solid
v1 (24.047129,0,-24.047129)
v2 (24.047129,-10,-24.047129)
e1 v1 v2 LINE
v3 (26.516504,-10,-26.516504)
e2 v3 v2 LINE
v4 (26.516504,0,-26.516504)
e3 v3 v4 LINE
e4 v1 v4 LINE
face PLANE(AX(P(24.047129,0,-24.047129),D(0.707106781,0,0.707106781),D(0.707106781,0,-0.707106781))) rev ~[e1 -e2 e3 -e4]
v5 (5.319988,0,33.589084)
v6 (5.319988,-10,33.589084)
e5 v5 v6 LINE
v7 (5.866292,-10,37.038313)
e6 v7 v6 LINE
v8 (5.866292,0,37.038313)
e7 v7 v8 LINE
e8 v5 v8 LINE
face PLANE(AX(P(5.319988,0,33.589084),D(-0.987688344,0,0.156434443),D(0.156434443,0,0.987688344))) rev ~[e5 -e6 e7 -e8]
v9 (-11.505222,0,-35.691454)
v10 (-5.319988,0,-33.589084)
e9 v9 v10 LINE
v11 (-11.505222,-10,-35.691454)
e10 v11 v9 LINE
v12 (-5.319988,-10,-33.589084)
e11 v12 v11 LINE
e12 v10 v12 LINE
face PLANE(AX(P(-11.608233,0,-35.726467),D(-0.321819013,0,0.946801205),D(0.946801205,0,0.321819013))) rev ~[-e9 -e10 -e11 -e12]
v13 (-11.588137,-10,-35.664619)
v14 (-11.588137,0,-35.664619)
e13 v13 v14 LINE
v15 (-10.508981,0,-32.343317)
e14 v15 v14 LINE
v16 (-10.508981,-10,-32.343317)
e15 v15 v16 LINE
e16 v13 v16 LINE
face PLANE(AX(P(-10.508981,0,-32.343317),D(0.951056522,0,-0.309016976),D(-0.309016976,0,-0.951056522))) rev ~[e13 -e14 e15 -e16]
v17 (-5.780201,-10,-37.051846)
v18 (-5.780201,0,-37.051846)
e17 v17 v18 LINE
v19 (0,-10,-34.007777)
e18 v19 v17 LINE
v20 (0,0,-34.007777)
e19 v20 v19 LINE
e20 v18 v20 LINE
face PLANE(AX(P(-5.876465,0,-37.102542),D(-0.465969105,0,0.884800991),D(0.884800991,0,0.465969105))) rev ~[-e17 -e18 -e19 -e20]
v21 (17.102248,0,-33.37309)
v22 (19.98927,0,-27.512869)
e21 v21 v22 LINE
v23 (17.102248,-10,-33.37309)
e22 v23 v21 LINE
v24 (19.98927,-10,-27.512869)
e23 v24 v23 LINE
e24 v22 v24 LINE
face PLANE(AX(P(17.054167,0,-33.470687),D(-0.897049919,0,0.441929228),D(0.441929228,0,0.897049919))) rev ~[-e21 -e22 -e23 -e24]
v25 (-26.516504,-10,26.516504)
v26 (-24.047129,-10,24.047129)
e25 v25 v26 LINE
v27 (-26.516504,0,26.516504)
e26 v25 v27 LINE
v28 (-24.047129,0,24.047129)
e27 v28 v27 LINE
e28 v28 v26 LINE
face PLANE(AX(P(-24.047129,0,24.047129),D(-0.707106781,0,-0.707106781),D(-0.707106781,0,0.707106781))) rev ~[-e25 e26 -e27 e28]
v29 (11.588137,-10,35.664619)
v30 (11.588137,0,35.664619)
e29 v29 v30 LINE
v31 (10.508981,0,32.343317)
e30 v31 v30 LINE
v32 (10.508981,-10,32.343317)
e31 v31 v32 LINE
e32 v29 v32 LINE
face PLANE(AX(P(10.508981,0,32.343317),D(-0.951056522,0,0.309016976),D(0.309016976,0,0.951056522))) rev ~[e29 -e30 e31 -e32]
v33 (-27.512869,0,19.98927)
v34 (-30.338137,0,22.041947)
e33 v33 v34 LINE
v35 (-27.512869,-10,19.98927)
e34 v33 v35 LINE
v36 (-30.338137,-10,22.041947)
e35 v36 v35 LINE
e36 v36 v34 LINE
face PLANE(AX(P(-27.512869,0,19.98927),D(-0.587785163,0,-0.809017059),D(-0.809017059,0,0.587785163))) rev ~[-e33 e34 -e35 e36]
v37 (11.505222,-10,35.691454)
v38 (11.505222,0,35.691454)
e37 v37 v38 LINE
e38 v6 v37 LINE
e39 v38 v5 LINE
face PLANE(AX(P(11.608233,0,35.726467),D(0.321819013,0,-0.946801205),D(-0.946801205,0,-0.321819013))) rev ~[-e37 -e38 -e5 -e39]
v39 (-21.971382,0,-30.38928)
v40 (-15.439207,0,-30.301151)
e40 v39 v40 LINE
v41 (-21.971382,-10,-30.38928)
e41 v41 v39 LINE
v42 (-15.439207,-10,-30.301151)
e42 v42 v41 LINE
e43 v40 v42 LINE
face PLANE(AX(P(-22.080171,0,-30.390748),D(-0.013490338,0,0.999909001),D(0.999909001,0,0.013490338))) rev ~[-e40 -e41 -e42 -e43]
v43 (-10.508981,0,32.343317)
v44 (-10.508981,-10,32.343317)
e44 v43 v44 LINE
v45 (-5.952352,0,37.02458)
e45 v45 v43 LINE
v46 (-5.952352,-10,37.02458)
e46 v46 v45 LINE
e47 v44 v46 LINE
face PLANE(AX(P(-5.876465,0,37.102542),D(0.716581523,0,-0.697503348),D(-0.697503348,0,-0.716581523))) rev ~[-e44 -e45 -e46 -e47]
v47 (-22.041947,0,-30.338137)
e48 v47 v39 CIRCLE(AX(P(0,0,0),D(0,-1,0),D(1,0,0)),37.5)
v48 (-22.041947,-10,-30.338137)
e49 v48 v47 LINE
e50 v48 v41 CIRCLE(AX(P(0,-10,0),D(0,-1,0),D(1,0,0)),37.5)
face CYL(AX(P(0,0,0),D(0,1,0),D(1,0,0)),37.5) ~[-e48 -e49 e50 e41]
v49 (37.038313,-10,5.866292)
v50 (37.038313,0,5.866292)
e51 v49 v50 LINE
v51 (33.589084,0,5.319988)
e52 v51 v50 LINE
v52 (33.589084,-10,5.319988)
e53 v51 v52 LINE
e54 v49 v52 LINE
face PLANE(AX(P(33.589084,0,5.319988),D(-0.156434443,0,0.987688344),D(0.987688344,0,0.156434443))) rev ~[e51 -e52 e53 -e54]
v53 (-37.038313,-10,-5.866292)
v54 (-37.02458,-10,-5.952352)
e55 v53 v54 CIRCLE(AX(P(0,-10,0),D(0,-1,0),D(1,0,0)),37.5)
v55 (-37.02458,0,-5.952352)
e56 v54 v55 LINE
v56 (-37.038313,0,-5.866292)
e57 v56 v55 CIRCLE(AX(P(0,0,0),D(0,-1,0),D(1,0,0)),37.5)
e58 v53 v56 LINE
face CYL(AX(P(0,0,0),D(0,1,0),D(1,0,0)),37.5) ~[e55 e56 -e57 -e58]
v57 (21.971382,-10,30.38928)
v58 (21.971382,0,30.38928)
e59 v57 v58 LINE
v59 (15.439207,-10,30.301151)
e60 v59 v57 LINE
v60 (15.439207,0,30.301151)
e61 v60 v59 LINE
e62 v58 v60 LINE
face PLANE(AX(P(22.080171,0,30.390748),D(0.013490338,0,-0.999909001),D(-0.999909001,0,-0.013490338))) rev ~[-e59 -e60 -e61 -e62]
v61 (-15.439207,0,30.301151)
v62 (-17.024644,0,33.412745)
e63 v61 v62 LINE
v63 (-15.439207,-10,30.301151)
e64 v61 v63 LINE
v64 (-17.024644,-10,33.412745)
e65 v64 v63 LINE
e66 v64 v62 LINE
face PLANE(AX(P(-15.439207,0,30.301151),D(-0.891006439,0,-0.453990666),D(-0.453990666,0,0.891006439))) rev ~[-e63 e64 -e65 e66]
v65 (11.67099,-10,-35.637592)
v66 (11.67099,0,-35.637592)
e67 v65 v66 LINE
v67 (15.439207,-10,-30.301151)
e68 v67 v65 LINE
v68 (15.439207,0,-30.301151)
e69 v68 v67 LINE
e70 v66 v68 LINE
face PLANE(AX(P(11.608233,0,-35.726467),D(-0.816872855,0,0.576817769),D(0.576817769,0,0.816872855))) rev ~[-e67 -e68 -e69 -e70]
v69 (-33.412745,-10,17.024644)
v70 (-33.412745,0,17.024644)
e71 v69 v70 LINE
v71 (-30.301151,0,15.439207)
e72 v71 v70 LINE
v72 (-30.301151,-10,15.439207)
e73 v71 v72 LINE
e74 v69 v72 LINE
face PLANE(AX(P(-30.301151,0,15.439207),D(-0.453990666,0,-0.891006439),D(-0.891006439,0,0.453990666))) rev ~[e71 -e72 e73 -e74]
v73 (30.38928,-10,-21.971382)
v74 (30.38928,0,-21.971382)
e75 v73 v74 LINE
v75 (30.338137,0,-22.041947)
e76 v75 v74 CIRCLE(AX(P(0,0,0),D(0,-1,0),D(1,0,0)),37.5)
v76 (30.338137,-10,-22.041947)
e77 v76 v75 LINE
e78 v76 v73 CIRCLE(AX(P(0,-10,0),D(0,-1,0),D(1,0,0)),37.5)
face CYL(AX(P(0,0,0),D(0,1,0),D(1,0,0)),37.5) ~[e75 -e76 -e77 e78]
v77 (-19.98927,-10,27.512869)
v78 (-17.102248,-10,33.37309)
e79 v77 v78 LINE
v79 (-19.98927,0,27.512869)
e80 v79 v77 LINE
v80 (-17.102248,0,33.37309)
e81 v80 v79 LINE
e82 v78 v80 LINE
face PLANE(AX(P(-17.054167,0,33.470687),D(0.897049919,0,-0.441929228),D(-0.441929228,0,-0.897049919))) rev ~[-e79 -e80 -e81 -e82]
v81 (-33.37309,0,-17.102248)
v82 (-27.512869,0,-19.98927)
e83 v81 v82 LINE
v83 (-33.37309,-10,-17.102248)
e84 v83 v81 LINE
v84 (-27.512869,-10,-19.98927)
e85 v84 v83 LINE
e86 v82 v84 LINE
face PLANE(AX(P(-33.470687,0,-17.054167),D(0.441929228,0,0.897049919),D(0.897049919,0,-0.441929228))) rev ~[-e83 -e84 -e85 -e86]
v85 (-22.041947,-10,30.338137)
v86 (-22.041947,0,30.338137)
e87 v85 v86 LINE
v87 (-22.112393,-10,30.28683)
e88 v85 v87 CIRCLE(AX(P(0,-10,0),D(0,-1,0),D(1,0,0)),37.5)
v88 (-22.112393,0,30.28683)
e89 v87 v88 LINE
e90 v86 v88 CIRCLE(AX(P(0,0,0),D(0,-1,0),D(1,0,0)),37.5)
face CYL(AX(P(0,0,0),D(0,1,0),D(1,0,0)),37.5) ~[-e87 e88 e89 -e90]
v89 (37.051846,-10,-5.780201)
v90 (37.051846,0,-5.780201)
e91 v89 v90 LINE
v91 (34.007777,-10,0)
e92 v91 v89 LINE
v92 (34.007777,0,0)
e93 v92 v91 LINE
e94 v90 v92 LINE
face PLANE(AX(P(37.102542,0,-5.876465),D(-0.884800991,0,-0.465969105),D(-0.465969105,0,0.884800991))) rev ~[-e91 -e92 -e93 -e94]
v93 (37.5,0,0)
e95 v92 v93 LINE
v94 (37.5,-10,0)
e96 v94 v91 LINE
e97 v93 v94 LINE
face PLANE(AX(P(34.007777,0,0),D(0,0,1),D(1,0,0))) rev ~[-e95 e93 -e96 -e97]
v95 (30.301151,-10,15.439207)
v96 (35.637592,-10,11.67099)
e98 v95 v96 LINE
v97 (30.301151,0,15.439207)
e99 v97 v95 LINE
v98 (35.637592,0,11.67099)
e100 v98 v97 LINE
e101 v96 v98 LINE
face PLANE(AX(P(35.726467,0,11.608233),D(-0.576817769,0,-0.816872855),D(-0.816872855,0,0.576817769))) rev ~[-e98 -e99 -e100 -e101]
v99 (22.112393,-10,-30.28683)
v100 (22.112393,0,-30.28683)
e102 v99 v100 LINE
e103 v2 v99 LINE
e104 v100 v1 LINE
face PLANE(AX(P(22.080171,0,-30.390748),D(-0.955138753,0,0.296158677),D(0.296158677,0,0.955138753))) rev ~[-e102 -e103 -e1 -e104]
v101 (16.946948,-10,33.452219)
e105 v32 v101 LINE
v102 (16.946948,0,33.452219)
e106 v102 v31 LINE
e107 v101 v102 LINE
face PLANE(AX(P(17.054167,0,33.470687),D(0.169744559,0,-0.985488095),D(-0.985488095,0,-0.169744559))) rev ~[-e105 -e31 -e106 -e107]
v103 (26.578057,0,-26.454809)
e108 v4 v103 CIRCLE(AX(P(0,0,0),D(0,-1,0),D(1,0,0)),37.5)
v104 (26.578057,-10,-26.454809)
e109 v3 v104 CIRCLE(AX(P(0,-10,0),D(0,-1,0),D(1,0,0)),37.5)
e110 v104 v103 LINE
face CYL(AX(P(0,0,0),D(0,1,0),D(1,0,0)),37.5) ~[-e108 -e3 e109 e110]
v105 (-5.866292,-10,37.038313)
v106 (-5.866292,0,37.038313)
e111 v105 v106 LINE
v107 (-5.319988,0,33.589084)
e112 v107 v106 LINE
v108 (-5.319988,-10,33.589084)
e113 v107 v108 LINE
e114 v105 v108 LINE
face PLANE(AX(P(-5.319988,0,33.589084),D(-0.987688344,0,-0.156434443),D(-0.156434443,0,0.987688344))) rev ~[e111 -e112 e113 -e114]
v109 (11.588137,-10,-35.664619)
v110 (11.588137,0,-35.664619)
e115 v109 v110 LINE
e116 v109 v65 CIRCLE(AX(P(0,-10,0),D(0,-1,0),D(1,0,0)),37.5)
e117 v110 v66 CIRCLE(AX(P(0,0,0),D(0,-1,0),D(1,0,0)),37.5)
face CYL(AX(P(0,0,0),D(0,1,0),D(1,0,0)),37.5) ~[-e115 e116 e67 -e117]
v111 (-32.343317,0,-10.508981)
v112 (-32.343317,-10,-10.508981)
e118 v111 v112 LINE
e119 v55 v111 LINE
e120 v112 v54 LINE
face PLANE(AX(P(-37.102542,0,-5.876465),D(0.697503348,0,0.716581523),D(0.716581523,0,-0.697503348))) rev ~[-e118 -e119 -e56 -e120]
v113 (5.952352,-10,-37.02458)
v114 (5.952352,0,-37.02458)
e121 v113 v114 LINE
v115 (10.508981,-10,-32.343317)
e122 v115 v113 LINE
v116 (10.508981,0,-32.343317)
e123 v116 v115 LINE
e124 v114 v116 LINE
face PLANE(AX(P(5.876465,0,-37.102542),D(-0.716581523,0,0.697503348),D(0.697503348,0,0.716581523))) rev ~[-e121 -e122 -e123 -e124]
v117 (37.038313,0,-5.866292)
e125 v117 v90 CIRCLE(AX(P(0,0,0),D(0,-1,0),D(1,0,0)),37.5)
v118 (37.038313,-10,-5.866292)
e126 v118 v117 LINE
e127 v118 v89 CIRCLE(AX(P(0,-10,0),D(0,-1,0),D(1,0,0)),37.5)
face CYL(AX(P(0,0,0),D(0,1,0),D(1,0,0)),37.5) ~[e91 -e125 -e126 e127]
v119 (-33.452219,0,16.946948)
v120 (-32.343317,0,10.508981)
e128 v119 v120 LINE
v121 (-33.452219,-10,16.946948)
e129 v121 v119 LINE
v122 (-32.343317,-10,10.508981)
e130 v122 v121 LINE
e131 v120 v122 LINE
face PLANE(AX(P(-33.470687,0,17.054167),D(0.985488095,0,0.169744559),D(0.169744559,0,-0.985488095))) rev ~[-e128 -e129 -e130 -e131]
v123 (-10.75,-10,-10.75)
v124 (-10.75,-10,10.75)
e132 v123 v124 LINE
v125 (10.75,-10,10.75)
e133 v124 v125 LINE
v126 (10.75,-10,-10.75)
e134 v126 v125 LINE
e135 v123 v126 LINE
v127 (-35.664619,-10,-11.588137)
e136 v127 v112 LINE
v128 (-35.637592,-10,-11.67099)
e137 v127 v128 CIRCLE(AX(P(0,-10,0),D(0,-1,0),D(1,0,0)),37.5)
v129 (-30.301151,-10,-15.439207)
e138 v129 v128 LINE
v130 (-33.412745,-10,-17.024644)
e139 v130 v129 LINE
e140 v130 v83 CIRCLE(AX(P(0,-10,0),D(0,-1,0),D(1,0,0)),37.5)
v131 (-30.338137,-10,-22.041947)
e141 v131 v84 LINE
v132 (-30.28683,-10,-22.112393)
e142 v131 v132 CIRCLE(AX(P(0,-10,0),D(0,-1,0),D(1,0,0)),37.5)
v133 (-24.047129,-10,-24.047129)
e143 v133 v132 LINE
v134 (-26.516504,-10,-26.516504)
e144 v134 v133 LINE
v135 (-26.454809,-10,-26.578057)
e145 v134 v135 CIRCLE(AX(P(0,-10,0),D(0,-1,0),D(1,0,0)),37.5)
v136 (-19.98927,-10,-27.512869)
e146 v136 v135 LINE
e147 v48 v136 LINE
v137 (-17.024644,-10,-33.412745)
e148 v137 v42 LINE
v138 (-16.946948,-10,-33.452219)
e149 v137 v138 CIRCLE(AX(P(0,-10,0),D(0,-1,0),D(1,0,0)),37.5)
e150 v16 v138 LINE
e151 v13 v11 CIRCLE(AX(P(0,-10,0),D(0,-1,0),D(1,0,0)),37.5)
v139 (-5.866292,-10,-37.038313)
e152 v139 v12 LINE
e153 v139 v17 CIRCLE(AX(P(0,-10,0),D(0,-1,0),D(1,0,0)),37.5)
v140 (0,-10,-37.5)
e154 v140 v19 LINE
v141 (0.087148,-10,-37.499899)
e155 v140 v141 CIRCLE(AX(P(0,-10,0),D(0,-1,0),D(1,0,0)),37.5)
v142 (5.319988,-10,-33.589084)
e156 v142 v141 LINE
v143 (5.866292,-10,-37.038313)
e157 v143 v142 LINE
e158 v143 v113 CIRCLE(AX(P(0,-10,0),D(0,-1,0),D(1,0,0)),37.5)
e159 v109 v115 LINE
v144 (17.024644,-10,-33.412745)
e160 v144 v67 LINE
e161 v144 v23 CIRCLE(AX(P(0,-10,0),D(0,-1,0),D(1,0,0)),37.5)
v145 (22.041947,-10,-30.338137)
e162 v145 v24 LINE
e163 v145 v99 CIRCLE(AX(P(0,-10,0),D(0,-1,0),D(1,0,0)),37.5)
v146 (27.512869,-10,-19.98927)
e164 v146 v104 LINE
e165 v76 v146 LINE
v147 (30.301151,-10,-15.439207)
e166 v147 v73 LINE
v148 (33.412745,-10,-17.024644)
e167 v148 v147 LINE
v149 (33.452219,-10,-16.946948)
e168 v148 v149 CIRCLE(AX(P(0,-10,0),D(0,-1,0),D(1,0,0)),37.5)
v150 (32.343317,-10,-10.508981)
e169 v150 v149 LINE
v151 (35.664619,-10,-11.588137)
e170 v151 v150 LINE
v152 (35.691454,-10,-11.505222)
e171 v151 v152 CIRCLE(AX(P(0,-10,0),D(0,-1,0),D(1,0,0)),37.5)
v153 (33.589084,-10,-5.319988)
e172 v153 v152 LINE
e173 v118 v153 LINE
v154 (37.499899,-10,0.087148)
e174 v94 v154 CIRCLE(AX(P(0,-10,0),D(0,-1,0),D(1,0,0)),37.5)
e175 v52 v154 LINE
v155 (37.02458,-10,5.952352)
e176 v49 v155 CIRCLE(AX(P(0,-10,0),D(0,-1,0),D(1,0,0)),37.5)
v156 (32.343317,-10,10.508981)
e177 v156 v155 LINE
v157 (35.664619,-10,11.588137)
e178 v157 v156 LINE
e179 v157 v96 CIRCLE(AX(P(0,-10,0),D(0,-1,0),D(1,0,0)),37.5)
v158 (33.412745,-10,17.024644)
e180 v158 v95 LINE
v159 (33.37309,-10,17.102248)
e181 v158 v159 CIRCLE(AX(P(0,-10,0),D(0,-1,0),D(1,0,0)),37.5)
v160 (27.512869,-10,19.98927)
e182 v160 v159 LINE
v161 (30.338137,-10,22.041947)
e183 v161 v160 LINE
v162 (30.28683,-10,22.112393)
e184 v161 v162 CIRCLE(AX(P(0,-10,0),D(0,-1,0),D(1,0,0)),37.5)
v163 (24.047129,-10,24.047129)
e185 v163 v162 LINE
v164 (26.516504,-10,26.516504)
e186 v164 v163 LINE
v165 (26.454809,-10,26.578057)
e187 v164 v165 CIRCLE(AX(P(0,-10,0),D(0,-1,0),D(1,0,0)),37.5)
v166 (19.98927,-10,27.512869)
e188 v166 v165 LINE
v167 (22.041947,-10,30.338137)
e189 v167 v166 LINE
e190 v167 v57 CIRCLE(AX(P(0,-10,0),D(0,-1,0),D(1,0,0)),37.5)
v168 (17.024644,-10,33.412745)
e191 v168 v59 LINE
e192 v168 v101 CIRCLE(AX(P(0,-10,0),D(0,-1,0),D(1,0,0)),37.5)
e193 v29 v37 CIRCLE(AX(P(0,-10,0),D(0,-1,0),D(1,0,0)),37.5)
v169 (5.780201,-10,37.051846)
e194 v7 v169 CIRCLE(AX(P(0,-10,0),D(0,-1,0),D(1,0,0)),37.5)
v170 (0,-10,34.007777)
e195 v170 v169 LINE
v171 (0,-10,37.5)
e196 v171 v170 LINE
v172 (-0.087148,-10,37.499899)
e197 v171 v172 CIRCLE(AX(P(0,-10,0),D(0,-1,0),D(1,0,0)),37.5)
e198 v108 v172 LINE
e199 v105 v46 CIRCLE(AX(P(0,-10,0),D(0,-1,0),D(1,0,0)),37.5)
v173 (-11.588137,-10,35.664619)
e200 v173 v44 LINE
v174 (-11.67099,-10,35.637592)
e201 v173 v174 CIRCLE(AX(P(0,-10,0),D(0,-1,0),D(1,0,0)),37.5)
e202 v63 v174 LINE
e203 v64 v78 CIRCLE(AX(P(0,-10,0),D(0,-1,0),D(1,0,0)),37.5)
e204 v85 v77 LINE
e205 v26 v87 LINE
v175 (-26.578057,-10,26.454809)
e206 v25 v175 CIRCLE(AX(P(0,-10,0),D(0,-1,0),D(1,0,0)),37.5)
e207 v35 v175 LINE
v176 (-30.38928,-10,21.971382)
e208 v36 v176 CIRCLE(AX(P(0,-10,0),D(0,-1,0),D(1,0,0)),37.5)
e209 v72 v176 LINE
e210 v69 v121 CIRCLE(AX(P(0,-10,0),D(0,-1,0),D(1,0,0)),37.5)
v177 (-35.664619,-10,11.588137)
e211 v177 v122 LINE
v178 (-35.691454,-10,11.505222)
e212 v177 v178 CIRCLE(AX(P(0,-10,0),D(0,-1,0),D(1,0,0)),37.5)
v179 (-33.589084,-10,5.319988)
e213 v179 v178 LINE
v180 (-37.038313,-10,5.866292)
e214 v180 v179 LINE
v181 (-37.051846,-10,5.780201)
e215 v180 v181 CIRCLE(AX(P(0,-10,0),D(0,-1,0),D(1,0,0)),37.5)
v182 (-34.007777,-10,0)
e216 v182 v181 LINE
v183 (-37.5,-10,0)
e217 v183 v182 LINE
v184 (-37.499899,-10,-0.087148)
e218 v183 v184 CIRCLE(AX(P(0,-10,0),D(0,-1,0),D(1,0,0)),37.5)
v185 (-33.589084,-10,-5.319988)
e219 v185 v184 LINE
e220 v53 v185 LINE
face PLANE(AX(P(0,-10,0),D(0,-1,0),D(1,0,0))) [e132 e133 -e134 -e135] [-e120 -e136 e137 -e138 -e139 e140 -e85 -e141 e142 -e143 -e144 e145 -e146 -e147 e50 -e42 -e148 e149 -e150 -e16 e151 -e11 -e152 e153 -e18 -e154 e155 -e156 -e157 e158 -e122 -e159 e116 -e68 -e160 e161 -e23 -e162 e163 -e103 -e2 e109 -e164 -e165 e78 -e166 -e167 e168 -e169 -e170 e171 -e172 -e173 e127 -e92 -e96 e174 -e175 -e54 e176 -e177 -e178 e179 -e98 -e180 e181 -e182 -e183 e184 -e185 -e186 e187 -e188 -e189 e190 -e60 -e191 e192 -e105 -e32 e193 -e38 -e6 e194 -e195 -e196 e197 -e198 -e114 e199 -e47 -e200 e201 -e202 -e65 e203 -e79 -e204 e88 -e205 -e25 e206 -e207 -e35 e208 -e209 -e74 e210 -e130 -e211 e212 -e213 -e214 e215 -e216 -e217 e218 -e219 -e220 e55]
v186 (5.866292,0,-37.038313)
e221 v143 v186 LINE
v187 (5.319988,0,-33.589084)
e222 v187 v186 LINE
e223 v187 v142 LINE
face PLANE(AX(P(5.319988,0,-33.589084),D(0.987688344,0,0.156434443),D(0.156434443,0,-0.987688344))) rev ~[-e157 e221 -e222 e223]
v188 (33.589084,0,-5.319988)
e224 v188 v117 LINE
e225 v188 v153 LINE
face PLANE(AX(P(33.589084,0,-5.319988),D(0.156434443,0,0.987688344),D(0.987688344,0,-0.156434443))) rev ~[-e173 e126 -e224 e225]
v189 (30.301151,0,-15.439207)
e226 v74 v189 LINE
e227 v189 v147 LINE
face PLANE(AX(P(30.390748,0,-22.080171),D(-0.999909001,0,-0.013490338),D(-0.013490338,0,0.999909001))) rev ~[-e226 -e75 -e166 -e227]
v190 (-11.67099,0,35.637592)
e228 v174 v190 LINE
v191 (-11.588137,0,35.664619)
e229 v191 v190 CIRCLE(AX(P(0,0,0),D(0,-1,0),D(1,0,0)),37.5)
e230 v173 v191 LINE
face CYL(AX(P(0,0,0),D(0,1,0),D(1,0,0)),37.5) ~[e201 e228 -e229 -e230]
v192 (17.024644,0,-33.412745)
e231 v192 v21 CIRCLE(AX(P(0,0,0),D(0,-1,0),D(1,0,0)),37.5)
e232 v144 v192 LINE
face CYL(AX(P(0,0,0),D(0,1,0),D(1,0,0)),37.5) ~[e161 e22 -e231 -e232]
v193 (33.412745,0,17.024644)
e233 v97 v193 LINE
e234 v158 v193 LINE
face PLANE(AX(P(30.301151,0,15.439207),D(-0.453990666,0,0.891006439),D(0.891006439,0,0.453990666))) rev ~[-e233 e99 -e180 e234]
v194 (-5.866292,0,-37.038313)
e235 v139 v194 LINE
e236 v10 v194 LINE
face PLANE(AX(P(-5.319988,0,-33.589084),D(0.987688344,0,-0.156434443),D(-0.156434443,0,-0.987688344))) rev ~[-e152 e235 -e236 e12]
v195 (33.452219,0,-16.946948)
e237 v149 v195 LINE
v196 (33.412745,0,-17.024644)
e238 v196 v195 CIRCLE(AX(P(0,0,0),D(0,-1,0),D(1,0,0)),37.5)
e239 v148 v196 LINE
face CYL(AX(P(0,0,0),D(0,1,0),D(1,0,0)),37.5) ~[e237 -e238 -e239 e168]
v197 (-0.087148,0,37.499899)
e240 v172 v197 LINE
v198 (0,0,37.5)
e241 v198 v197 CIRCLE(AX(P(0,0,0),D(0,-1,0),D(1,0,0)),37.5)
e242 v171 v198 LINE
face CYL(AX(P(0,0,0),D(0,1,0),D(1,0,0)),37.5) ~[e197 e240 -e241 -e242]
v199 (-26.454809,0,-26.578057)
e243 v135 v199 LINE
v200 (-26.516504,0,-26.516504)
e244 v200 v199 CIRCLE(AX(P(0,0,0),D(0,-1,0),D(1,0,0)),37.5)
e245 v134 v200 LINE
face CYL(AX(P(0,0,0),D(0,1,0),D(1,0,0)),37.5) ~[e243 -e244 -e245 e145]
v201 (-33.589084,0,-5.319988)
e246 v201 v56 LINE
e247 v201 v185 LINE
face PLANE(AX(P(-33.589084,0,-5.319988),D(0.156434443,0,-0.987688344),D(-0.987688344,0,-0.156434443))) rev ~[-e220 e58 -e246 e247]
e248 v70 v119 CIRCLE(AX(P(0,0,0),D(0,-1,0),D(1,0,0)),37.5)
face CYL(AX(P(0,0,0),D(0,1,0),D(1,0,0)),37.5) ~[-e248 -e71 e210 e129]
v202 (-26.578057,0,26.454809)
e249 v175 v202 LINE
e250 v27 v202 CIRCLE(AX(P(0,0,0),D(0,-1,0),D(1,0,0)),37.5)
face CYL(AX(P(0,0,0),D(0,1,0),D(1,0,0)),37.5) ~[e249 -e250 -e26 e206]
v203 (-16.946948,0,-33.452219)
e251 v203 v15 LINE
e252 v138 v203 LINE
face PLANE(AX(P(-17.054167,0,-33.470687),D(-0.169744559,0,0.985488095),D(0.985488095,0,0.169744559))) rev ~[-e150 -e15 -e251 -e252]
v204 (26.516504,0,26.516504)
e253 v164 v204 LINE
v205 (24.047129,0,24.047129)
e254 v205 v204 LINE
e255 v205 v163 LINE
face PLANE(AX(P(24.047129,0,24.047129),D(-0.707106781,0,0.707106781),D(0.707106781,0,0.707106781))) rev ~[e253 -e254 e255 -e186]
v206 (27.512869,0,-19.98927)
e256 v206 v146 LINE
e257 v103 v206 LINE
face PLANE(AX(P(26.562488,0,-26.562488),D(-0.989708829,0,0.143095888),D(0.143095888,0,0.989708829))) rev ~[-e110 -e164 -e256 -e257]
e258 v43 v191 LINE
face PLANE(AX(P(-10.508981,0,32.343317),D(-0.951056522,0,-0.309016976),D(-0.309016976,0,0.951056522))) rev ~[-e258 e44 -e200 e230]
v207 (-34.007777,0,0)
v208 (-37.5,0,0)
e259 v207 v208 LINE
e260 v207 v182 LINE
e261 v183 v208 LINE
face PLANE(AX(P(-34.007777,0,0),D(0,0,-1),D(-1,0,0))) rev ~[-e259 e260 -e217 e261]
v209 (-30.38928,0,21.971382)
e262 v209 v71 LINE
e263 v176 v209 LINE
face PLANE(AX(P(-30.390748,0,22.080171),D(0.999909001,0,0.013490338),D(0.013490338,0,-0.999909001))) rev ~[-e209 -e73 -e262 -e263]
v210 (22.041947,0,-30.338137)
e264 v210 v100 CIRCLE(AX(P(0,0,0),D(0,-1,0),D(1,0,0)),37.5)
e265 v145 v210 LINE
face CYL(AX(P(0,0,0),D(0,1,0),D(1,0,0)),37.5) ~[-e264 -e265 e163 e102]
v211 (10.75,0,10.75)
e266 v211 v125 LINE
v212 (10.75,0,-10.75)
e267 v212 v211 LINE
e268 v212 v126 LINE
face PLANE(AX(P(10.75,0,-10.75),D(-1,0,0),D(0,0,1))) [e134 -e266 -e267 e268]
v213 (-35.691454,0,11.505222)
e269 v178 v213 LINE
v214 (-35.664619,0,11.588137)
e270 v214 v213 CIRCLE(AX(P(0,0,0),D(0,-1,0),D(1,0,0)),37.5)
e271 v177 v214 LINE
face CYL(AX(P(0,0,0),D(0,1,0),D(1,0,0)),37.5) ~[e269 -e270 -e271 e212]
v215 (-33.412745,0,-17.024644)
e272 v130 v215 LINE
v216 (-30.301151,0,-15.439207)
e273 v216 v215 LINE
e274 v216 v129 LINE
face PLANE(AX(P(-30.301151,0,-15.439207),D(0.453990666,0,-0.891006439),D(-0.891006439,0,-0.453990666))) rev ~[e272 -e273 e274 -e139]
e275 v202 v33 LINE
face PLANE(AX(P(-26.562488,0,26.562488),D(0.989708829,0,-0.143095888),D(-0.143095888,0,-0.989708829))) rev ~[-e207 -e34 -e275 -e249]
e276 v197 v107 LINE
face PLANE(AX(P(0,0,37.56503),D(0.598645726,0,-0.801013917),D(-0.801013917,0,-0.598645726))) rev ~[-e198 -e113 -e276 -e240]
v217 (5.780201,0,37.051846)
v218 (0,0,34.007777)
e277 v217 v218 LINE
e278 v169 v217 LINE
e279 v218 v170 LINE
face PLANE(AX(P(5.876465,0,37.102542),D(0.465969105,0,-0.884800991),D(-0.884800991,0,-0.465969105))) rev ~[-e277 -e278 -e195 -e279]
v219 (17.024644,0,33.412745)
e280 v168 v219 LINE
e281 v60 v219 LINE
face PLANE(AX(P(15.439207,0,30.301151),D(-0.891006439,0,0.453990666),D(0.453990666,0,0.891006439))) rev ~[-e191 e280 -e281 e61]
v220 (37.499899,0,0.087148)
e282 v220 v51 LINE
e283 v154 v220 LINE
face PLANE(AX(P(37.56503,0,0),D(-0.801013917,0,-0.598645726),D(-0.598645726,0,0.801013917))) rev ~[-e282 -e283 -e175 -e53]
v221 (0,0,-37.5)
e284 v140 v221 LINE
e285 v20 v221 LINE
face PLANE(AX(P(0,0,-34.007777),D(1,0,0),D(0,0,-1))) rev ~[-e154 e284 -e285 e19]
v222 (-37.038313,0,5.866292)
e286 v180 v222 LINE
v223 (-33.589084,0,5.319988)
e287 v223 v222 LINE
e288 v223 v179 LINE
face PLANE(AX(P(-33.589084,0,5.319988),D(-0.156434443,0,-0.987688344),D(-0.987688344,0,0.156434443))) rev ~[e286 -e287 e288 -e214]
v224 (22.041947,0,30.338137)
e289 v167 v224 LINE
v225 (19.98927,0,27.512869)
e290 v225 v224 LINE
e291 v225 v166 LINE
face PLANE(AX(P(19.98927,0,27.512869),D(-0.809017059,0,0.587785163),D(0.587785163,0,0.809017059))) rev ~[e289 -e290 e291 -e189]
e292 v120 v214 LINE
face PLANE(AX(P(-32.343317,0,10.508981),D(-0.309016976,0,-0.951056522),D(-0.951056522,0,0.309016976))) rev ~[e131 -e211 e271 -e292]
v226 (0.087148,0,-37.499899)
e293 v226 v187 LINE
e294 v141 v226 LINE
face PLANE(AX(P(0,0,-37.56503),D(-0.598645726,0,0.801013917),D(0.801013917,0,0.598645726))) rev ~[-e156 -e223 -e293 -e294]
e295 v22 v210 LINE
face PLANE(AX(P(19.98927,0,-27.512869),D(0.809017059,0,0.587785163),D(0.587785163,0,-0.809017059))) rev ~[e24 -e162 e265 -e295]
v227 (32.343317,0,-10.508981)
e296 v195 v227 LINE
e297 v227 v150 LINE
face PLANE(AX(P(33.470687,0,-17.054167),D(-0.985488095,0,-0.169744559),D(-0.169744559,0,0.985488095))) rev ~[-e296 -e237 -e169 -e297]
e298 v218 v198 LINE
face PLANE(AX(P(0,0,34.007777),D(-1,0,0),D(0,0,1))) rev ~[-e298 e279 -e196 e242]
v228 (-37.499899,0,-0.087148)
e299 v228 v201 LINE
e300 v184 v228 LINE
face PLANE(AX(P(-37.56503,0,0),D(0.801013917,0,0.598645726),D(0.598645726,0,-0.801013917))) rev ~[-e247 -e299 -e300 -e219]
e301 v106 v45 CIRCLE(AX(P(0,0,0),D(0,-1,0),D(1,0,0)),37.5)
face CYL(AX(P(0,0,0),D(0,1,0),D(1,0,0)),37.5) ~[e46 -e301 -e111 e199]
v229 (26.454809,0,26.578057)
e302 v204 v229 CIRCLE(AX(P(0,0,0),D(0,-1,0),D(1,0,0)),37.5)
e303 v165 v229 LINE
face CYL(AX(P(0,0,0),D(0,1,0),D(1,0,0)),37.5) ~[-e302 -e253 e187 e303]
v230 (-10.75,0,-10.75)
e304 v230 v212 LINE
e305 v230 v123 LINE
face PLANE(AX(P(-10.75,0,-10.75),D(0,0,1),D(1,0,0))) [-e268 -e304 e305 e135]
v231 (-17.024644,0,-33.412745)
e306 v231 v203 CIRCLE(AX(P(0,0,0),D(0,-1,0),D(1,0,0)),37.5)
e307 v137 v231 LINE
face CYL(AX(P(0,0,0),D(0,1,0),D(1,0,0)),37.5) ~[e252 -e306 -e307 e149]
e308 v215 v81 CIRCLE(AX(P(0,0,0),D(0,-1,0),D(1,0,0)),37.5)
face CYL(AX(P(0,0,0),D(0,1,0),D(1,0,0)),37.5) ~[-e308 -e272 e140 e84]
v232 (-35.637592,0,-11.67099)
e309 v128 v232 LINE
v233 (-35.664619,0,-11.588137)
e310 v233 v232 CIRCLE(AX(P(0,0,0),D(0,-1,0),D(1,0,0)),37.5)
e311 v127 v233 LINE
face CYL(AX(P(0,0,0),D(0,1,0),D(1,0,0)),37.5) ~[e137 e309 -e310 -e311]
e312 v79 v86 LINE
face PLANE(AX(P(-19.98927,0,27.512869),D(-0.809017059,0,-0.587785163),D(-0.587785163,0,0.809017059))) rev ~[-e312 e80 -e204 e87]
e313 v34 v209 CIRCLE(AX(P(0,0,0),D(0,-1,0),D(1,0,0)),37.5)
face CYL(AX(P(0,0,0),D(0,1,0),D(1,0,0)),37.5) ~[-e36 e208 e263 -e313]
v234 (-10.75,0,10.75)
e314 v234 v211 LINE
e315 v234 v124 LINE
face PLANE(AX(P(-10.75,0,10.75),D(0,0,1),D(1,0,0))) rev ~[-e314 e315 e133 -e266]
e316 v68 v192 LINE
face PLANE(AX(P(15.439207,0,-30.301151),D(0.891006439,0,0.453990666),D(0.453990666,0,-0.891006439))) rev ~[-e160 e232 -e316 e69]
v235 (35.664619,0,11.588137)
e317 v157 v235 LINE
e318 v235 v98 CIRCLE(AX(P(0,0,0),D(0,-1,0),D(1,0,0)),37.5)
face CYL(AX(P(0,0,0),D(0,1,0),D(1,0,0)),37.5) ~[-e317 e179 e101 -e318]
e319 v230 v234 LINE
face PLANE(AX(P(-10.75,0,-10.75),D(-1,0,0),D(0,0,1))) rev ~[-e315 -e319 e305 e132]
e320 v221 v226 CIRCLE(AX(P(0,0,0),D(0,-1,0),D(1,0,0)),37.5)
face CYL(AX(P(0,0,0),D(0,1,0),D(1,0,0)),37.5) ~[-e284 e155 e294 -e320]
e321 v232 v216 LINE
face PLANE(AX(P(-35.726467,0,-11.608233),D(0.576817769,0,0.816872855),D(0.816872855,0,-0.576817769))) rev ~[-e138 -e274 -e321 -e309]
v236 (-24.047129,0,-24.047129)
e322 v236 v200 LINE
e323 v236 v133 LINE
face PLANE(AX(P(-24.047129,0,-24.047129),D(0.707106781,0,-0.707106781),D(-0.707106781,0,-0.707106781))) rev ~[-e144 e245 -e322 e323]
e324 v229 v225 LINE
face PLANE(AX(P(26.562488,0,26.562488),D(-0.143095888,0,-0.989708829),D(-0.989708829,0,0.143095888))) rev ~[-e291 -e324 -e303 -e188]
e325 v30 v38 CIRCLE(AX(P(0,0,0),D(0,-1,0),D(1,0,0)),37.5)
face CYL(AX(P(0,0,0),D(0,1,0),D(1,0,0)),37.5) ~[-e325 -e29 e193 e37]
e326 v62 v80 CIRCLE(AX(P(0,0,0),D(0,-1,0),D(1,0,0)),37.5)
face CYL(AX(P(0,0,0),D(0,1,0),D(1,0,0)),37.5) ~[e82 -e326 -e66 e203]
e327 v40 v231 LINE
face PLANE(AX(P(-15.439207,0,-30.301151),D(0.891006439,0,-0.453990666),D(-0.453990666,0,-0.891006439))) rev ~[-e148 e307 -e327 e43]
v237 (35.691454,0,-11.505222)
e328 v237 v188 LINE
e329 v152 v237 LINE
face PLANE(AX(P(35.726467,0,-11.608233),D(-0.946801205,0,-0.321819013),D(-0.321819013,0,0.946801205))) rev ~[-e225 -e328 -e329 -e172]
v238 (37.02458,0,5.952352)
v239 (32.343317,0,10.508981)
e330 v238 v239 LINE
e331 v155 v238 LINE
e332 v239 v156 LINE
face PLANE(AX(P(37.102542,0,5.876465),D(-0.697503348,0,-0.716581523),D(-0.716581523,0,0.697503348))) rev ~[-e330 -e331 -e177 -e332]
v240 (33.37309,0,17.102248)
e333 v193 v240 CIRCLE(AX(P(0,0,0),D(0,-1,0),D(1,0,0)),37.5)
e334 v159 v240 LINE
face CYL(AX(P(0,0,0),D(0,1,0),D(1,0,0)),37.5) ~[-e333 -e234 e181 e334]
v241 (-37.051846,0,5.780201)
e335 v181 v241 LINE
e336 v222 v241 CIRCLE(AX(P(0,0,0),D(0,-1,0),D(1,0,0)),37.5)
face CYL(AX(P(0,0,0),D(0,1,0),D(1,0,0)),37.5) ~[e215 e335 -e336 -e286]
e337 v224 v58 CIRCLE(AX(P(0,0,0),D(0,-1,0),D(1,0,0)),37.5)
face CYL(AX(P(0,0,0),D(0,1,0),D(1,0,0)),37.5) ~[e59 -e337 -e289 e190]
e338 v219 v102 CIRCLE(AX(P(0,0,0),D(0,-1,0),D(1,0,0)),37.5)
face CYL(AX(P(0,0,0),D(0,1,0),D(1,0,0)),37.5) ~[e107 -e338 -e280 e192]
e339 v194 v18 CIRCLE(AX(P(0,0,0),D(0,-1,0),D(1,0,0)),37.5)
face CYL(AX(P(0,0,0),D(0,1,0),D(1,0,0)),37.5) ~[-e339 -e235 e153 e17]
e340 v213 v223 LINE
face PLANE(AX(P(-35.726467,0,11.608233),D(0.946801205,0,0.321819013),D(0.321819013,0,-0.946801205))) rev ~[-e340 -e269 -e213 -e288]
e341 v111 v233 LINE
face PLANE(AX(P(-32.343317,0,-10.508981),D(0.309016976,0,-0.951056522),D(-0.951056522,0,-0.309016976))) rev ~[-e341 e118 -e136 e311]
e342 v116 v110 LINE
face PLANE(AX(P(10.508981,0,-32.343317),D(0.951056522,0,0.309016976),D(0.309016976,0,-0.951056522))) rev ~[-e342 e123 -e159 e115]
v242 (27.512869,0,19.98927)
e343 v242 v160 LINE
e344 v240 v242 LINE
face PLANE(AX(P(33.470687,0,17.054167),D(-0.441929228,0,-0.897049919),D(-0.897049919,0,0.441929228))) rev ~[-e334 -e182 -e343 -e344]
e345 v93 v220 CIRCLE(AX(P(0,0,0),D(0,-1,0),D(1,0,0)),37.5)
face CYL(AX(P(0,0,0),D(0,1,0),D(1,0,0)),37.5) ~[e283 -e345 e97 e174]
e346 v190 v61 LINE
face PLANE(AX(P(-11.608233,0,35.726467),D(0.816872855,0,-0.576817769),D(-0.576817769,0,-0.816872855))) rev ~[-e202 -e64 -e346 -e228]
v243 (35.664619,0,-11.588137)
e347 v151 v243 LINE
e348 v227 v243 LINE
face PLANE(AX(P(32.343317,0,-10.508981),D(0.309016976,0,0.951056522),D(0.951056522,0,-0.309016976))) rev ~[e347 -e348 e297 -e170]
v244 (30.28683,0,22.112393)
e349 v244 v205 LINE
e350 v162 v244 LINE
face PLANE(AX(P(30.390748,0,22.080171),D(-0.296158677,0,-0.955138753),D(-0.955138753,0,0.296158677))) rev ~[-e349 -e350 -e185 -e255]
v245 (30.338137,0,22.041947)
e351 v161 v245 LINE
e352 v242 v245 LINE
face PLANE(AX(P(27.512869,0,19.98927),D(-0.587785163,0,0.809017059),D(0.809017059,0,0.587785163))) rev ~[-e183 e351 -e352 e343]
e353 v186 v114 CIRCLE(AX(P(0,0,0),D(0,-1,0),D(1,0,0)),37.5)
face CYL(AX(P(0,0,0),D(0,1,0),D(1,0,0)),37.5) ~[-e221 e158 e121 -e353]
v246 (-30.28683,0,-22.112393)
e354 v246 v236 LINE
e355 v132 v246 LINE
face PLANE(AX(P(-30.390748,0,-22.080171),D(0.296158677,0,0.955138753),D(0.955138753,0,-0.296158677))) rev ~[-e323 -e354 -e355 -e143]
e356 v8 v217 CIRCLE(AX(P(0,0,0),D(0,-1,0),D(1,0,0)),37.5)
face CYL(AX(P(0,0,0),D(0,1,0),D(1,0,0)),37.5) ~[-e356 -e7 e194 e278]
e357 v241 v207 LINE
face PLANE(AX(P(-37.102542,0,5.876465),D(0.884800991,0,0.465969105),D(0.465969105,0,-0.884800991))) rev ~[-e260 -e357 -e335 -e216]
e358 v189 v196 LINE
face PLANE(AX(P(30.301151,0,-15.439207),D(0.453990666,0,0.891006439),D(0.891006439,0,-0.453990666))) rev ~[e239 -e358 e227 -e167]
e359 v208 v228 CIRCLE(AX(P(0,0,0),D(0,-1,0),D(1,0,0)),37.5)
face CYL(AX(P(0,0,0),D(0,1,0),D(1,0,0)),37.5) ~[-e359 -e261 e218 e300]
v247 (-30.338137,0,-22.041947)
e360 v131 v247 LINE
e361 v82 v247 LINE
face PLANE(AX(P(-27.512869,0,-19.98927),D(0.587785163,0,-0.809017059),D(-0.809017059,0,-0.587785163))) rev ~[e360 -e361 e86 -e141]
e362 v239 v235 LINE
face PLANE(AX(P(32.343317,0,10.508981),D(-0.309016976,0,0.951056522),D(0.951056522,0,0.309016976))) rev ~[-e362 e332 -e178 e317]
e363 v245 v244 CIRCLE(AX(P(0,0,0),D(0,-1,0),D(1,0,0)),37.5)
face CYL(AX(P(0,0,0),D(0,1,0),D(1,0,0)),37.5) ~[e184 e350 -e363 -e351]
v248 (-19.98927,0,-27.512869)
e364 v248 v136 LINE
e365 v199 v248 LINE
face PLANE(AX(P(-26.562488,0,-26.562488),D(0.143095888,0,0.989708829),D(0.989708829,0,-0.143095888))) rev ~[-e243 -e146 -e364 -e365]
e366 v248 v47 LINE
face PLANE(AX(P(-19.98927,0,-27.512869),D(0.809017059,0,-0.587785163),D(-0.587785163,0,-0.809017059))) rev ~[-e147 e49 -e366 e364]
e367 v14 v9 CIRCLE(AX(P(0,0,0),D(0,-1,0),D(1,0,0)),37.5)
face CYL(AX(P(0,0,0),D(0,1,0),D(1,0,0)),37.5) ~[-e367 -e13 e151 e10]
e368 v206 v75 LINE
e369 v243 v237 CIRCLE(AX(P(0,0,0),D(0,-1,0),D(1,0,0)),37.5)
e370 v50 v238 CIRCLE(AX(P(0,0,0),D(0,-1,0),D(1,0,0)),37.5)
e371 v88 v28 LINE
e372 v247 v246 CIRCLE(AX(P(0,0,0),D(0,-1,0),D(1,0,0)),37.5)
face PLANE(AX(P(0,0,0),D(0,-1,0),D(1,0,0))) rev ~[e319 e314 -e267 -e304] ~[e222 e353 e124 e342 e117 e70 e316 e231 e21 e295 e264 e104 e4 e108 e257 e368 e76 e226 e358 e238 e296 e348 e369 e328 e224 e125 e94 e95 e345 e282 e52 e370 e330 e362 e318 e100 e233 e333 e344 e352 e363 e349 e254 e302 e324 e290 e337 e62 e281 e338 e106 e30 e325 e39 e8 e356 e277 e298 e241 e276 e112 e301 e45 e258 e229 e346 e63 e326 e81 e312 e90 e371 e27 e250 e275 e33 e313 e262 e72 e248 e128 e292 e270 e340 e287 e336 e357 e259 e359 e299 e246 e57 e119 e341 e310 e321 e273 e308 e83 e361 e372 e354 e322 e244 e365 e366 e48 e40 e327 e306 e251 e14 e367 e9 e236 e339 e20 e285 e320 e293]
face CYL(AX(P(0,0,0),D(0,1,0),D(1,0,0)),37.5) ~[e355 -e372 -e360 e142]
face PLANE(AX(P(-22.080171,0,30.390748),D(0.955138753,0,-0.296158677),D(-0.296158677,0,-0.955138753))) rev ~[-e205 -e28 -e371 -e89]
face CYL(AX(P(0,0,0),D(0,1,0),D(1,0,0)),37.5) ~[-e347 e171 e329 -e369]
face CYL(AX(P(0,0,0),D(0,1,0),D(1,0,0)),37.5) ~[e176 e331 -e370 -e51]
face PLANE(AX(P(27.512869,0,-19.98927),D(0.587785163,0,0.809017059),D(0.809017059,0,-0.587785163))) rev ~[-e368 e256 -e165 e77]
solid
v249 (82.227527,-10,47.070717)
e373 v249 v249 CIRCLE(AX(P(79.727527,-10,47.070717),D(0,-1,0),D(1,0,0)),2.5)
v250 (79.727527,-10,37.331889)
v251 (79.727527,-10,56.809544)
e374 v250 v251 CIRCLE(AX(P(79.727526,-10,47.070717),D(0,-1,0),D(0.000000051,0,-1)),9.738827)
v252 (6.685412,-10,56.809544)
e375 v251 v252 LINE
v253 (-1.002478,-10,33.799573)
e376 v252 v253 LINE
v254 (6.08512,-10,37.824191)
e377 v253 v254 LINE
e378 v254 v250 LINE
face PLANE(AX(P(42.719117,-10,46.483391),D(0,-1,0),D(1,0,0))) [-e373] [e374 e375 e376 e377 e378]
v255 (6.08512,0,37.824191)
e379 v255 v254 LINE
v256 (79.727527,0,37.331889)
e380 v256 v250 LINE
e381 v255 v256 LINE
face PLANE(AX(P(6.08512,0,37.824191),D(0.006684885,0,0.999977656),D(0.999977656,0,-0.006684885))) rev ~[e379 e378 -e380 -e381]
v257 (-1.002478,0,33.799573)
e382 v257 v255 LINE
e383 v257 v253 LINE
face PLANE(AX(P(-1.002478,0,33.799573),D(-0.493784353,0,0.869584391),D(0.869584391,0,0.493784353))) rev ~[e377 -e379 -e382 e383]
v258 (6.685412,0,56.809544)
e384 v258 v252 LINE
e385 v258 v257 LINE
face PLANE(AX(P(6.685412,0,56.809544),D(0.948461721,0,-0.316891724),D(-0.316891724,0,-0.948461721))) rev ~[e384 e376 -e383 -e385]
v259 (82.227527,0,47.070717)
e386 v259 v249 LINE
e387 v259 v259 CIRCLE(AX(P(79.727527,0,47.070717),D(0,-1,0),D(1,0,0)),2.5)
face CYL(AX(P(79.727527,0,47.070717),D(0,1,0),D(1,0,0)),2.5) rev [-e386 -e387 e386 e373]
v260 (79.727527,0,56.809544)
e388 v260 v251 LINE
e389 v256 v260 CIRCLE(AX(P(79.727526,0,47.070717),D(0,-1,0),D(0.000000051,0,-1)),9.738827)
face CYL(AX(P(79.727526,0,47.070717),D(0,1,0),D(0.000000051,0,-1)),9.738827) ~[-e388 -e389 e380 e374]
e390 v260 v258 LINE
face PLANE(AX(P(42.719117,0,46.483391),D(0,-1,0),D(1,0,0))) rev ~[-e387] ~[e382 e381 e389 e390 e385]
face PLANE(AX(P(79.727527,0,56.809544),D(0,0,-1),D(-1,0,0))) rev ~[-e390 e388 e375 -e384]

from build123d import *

# Parameters (mm, degrees)
F0_R     = 37.5
F0_W     = 21.5
F0_H     = 21.5
F1_DEPTH = 10
F3_DEPTH = 25
F4_R     = 2.5
F5_DEPTH = 10


with BuildPart() as f1:
    # F0 (on Front) → F1 (new body)
    with BuildSketch(Plane.XZ):
        Circle(F0_R)
        Rectangle(F0_W, F0_H, mode=Mode.SUBTRACT)
    extrude(amount=F1_DEPTH)

    # F2 (on Front) → F3 (intersect)
    with BuildSketch(Plane.XZ):
        Polygon((0, 34.007777), (0, 37.56503), (-5.319988, 33.589084), (-5.876465, 37.102542), (-10.508981, 32.343317), (-11.608233, 35.726467), (-15.439207, 30.301151), (-17.054167, 33.470687), (-19.98927, 27.512869), (-22.080171, 30.390748), (-24.047129, 24.047129), (-26.562488, 26.562488), (-27.512869, 19.98927), (-30.390748, 22.080171), (-30.301151, 15.439207), (-33.470687, 17.054167), (-32.343317, 10.508981), (-35.726467, 11.608233), (-33.589084, 5.319988), (-37.102542, 5.876465), (-34.007777, 0), (-37.56503, 0), (-33.589084, -5.319988), (-37.102542, -5.876465), (-32.343317, -10.508981), (-35.726467, -11.608233), (-30.301151, -15.439207), (-33.470687, -17.054167), (-27.512869, -19.98927), (-30.390748, -22.080171), (-24.047129, -24.047129), (-26.562488, -26.562488), (-19.98927, -27.512869), (-22.080171, -30.390748), (-15.439207, -30.301151), (-17.054167, -33.470687), (-10.508981, -32.343317), (-11.608233, -35.726467), (-5.319988, -33.589084), (-5.876465, -37.102542), (0, -34.007777), (0, -37.56503), (5.319988, -33.589084), (5.876465, -37.102542), (10.508981, -32.343317), (11.608233, -35.726467), (15.439207, -30.301151), (17.054167, -33.470687), (19.98927, -27.512869), (22.080171, -30.390748), (24.047129, -24.047129), (26.562488, -26.562488), (27.512869, -19.98927), (30.390748, -22.080171), (30.301151, -15.439207), (33.470687, -17.054167), (32.343317, -10.508981), (35.726467, -11.608233), (33.589084, -5.319988), (37.102542, -5.876465), (34.007777, 0), (37.56503, 0), (33.589084, 5.319988), (37.102542, 5.876465), (32.343317, 10.508981), (35.726467, 11.608233), (30.301151, 15.439207), (33.470687, 17.054167), (27.512869, 19.98927), (30.390748, 22.080171), (24.047129, 24.047129), (26.562488, 26.562488), (19.98927, 27.512869), (22.080171, 30.390748), (15.439207, 30.301151), (17.054167, 33.470687), (10.508981, 32.343317), (11.608233, 35.726467), (5.319988, 33.589084), (5.876465, 37.102542), align=None)
    extrude(amount=F3_DEPTH, mode=Mode.INTERSECT)


with BuildPart() as f5:
    # F4 (on Front) → F5 (new body)
    with BuildSketch(Plane.XZ):
        with BuildLine():
            Line((8.696713, 56.809544), (6.685412, 56.809544))
            Line((6.685412, 56.809544), (-1.002478, 33.799573))
            Line((-1.002478, 33.799573), (6.08512, 37.824191))
            Line((6.08512, 37.824191), (79.727527, 37.331889))
            ThreePointArc((79.727527, 37.331889), (89.466354, 47.070717), (79.727527, 56.809544))
            Line((79.727527, 56.809544), (8.696713, 56.809544))
        make_face()
        with Locations((79.727527, 47.070717)):
            Circle(F4_R, mode=Mode.SUBTRACT)
    extrude(amount=F5_DEPTH)


solid = Compound([f1.part, f5.part])
